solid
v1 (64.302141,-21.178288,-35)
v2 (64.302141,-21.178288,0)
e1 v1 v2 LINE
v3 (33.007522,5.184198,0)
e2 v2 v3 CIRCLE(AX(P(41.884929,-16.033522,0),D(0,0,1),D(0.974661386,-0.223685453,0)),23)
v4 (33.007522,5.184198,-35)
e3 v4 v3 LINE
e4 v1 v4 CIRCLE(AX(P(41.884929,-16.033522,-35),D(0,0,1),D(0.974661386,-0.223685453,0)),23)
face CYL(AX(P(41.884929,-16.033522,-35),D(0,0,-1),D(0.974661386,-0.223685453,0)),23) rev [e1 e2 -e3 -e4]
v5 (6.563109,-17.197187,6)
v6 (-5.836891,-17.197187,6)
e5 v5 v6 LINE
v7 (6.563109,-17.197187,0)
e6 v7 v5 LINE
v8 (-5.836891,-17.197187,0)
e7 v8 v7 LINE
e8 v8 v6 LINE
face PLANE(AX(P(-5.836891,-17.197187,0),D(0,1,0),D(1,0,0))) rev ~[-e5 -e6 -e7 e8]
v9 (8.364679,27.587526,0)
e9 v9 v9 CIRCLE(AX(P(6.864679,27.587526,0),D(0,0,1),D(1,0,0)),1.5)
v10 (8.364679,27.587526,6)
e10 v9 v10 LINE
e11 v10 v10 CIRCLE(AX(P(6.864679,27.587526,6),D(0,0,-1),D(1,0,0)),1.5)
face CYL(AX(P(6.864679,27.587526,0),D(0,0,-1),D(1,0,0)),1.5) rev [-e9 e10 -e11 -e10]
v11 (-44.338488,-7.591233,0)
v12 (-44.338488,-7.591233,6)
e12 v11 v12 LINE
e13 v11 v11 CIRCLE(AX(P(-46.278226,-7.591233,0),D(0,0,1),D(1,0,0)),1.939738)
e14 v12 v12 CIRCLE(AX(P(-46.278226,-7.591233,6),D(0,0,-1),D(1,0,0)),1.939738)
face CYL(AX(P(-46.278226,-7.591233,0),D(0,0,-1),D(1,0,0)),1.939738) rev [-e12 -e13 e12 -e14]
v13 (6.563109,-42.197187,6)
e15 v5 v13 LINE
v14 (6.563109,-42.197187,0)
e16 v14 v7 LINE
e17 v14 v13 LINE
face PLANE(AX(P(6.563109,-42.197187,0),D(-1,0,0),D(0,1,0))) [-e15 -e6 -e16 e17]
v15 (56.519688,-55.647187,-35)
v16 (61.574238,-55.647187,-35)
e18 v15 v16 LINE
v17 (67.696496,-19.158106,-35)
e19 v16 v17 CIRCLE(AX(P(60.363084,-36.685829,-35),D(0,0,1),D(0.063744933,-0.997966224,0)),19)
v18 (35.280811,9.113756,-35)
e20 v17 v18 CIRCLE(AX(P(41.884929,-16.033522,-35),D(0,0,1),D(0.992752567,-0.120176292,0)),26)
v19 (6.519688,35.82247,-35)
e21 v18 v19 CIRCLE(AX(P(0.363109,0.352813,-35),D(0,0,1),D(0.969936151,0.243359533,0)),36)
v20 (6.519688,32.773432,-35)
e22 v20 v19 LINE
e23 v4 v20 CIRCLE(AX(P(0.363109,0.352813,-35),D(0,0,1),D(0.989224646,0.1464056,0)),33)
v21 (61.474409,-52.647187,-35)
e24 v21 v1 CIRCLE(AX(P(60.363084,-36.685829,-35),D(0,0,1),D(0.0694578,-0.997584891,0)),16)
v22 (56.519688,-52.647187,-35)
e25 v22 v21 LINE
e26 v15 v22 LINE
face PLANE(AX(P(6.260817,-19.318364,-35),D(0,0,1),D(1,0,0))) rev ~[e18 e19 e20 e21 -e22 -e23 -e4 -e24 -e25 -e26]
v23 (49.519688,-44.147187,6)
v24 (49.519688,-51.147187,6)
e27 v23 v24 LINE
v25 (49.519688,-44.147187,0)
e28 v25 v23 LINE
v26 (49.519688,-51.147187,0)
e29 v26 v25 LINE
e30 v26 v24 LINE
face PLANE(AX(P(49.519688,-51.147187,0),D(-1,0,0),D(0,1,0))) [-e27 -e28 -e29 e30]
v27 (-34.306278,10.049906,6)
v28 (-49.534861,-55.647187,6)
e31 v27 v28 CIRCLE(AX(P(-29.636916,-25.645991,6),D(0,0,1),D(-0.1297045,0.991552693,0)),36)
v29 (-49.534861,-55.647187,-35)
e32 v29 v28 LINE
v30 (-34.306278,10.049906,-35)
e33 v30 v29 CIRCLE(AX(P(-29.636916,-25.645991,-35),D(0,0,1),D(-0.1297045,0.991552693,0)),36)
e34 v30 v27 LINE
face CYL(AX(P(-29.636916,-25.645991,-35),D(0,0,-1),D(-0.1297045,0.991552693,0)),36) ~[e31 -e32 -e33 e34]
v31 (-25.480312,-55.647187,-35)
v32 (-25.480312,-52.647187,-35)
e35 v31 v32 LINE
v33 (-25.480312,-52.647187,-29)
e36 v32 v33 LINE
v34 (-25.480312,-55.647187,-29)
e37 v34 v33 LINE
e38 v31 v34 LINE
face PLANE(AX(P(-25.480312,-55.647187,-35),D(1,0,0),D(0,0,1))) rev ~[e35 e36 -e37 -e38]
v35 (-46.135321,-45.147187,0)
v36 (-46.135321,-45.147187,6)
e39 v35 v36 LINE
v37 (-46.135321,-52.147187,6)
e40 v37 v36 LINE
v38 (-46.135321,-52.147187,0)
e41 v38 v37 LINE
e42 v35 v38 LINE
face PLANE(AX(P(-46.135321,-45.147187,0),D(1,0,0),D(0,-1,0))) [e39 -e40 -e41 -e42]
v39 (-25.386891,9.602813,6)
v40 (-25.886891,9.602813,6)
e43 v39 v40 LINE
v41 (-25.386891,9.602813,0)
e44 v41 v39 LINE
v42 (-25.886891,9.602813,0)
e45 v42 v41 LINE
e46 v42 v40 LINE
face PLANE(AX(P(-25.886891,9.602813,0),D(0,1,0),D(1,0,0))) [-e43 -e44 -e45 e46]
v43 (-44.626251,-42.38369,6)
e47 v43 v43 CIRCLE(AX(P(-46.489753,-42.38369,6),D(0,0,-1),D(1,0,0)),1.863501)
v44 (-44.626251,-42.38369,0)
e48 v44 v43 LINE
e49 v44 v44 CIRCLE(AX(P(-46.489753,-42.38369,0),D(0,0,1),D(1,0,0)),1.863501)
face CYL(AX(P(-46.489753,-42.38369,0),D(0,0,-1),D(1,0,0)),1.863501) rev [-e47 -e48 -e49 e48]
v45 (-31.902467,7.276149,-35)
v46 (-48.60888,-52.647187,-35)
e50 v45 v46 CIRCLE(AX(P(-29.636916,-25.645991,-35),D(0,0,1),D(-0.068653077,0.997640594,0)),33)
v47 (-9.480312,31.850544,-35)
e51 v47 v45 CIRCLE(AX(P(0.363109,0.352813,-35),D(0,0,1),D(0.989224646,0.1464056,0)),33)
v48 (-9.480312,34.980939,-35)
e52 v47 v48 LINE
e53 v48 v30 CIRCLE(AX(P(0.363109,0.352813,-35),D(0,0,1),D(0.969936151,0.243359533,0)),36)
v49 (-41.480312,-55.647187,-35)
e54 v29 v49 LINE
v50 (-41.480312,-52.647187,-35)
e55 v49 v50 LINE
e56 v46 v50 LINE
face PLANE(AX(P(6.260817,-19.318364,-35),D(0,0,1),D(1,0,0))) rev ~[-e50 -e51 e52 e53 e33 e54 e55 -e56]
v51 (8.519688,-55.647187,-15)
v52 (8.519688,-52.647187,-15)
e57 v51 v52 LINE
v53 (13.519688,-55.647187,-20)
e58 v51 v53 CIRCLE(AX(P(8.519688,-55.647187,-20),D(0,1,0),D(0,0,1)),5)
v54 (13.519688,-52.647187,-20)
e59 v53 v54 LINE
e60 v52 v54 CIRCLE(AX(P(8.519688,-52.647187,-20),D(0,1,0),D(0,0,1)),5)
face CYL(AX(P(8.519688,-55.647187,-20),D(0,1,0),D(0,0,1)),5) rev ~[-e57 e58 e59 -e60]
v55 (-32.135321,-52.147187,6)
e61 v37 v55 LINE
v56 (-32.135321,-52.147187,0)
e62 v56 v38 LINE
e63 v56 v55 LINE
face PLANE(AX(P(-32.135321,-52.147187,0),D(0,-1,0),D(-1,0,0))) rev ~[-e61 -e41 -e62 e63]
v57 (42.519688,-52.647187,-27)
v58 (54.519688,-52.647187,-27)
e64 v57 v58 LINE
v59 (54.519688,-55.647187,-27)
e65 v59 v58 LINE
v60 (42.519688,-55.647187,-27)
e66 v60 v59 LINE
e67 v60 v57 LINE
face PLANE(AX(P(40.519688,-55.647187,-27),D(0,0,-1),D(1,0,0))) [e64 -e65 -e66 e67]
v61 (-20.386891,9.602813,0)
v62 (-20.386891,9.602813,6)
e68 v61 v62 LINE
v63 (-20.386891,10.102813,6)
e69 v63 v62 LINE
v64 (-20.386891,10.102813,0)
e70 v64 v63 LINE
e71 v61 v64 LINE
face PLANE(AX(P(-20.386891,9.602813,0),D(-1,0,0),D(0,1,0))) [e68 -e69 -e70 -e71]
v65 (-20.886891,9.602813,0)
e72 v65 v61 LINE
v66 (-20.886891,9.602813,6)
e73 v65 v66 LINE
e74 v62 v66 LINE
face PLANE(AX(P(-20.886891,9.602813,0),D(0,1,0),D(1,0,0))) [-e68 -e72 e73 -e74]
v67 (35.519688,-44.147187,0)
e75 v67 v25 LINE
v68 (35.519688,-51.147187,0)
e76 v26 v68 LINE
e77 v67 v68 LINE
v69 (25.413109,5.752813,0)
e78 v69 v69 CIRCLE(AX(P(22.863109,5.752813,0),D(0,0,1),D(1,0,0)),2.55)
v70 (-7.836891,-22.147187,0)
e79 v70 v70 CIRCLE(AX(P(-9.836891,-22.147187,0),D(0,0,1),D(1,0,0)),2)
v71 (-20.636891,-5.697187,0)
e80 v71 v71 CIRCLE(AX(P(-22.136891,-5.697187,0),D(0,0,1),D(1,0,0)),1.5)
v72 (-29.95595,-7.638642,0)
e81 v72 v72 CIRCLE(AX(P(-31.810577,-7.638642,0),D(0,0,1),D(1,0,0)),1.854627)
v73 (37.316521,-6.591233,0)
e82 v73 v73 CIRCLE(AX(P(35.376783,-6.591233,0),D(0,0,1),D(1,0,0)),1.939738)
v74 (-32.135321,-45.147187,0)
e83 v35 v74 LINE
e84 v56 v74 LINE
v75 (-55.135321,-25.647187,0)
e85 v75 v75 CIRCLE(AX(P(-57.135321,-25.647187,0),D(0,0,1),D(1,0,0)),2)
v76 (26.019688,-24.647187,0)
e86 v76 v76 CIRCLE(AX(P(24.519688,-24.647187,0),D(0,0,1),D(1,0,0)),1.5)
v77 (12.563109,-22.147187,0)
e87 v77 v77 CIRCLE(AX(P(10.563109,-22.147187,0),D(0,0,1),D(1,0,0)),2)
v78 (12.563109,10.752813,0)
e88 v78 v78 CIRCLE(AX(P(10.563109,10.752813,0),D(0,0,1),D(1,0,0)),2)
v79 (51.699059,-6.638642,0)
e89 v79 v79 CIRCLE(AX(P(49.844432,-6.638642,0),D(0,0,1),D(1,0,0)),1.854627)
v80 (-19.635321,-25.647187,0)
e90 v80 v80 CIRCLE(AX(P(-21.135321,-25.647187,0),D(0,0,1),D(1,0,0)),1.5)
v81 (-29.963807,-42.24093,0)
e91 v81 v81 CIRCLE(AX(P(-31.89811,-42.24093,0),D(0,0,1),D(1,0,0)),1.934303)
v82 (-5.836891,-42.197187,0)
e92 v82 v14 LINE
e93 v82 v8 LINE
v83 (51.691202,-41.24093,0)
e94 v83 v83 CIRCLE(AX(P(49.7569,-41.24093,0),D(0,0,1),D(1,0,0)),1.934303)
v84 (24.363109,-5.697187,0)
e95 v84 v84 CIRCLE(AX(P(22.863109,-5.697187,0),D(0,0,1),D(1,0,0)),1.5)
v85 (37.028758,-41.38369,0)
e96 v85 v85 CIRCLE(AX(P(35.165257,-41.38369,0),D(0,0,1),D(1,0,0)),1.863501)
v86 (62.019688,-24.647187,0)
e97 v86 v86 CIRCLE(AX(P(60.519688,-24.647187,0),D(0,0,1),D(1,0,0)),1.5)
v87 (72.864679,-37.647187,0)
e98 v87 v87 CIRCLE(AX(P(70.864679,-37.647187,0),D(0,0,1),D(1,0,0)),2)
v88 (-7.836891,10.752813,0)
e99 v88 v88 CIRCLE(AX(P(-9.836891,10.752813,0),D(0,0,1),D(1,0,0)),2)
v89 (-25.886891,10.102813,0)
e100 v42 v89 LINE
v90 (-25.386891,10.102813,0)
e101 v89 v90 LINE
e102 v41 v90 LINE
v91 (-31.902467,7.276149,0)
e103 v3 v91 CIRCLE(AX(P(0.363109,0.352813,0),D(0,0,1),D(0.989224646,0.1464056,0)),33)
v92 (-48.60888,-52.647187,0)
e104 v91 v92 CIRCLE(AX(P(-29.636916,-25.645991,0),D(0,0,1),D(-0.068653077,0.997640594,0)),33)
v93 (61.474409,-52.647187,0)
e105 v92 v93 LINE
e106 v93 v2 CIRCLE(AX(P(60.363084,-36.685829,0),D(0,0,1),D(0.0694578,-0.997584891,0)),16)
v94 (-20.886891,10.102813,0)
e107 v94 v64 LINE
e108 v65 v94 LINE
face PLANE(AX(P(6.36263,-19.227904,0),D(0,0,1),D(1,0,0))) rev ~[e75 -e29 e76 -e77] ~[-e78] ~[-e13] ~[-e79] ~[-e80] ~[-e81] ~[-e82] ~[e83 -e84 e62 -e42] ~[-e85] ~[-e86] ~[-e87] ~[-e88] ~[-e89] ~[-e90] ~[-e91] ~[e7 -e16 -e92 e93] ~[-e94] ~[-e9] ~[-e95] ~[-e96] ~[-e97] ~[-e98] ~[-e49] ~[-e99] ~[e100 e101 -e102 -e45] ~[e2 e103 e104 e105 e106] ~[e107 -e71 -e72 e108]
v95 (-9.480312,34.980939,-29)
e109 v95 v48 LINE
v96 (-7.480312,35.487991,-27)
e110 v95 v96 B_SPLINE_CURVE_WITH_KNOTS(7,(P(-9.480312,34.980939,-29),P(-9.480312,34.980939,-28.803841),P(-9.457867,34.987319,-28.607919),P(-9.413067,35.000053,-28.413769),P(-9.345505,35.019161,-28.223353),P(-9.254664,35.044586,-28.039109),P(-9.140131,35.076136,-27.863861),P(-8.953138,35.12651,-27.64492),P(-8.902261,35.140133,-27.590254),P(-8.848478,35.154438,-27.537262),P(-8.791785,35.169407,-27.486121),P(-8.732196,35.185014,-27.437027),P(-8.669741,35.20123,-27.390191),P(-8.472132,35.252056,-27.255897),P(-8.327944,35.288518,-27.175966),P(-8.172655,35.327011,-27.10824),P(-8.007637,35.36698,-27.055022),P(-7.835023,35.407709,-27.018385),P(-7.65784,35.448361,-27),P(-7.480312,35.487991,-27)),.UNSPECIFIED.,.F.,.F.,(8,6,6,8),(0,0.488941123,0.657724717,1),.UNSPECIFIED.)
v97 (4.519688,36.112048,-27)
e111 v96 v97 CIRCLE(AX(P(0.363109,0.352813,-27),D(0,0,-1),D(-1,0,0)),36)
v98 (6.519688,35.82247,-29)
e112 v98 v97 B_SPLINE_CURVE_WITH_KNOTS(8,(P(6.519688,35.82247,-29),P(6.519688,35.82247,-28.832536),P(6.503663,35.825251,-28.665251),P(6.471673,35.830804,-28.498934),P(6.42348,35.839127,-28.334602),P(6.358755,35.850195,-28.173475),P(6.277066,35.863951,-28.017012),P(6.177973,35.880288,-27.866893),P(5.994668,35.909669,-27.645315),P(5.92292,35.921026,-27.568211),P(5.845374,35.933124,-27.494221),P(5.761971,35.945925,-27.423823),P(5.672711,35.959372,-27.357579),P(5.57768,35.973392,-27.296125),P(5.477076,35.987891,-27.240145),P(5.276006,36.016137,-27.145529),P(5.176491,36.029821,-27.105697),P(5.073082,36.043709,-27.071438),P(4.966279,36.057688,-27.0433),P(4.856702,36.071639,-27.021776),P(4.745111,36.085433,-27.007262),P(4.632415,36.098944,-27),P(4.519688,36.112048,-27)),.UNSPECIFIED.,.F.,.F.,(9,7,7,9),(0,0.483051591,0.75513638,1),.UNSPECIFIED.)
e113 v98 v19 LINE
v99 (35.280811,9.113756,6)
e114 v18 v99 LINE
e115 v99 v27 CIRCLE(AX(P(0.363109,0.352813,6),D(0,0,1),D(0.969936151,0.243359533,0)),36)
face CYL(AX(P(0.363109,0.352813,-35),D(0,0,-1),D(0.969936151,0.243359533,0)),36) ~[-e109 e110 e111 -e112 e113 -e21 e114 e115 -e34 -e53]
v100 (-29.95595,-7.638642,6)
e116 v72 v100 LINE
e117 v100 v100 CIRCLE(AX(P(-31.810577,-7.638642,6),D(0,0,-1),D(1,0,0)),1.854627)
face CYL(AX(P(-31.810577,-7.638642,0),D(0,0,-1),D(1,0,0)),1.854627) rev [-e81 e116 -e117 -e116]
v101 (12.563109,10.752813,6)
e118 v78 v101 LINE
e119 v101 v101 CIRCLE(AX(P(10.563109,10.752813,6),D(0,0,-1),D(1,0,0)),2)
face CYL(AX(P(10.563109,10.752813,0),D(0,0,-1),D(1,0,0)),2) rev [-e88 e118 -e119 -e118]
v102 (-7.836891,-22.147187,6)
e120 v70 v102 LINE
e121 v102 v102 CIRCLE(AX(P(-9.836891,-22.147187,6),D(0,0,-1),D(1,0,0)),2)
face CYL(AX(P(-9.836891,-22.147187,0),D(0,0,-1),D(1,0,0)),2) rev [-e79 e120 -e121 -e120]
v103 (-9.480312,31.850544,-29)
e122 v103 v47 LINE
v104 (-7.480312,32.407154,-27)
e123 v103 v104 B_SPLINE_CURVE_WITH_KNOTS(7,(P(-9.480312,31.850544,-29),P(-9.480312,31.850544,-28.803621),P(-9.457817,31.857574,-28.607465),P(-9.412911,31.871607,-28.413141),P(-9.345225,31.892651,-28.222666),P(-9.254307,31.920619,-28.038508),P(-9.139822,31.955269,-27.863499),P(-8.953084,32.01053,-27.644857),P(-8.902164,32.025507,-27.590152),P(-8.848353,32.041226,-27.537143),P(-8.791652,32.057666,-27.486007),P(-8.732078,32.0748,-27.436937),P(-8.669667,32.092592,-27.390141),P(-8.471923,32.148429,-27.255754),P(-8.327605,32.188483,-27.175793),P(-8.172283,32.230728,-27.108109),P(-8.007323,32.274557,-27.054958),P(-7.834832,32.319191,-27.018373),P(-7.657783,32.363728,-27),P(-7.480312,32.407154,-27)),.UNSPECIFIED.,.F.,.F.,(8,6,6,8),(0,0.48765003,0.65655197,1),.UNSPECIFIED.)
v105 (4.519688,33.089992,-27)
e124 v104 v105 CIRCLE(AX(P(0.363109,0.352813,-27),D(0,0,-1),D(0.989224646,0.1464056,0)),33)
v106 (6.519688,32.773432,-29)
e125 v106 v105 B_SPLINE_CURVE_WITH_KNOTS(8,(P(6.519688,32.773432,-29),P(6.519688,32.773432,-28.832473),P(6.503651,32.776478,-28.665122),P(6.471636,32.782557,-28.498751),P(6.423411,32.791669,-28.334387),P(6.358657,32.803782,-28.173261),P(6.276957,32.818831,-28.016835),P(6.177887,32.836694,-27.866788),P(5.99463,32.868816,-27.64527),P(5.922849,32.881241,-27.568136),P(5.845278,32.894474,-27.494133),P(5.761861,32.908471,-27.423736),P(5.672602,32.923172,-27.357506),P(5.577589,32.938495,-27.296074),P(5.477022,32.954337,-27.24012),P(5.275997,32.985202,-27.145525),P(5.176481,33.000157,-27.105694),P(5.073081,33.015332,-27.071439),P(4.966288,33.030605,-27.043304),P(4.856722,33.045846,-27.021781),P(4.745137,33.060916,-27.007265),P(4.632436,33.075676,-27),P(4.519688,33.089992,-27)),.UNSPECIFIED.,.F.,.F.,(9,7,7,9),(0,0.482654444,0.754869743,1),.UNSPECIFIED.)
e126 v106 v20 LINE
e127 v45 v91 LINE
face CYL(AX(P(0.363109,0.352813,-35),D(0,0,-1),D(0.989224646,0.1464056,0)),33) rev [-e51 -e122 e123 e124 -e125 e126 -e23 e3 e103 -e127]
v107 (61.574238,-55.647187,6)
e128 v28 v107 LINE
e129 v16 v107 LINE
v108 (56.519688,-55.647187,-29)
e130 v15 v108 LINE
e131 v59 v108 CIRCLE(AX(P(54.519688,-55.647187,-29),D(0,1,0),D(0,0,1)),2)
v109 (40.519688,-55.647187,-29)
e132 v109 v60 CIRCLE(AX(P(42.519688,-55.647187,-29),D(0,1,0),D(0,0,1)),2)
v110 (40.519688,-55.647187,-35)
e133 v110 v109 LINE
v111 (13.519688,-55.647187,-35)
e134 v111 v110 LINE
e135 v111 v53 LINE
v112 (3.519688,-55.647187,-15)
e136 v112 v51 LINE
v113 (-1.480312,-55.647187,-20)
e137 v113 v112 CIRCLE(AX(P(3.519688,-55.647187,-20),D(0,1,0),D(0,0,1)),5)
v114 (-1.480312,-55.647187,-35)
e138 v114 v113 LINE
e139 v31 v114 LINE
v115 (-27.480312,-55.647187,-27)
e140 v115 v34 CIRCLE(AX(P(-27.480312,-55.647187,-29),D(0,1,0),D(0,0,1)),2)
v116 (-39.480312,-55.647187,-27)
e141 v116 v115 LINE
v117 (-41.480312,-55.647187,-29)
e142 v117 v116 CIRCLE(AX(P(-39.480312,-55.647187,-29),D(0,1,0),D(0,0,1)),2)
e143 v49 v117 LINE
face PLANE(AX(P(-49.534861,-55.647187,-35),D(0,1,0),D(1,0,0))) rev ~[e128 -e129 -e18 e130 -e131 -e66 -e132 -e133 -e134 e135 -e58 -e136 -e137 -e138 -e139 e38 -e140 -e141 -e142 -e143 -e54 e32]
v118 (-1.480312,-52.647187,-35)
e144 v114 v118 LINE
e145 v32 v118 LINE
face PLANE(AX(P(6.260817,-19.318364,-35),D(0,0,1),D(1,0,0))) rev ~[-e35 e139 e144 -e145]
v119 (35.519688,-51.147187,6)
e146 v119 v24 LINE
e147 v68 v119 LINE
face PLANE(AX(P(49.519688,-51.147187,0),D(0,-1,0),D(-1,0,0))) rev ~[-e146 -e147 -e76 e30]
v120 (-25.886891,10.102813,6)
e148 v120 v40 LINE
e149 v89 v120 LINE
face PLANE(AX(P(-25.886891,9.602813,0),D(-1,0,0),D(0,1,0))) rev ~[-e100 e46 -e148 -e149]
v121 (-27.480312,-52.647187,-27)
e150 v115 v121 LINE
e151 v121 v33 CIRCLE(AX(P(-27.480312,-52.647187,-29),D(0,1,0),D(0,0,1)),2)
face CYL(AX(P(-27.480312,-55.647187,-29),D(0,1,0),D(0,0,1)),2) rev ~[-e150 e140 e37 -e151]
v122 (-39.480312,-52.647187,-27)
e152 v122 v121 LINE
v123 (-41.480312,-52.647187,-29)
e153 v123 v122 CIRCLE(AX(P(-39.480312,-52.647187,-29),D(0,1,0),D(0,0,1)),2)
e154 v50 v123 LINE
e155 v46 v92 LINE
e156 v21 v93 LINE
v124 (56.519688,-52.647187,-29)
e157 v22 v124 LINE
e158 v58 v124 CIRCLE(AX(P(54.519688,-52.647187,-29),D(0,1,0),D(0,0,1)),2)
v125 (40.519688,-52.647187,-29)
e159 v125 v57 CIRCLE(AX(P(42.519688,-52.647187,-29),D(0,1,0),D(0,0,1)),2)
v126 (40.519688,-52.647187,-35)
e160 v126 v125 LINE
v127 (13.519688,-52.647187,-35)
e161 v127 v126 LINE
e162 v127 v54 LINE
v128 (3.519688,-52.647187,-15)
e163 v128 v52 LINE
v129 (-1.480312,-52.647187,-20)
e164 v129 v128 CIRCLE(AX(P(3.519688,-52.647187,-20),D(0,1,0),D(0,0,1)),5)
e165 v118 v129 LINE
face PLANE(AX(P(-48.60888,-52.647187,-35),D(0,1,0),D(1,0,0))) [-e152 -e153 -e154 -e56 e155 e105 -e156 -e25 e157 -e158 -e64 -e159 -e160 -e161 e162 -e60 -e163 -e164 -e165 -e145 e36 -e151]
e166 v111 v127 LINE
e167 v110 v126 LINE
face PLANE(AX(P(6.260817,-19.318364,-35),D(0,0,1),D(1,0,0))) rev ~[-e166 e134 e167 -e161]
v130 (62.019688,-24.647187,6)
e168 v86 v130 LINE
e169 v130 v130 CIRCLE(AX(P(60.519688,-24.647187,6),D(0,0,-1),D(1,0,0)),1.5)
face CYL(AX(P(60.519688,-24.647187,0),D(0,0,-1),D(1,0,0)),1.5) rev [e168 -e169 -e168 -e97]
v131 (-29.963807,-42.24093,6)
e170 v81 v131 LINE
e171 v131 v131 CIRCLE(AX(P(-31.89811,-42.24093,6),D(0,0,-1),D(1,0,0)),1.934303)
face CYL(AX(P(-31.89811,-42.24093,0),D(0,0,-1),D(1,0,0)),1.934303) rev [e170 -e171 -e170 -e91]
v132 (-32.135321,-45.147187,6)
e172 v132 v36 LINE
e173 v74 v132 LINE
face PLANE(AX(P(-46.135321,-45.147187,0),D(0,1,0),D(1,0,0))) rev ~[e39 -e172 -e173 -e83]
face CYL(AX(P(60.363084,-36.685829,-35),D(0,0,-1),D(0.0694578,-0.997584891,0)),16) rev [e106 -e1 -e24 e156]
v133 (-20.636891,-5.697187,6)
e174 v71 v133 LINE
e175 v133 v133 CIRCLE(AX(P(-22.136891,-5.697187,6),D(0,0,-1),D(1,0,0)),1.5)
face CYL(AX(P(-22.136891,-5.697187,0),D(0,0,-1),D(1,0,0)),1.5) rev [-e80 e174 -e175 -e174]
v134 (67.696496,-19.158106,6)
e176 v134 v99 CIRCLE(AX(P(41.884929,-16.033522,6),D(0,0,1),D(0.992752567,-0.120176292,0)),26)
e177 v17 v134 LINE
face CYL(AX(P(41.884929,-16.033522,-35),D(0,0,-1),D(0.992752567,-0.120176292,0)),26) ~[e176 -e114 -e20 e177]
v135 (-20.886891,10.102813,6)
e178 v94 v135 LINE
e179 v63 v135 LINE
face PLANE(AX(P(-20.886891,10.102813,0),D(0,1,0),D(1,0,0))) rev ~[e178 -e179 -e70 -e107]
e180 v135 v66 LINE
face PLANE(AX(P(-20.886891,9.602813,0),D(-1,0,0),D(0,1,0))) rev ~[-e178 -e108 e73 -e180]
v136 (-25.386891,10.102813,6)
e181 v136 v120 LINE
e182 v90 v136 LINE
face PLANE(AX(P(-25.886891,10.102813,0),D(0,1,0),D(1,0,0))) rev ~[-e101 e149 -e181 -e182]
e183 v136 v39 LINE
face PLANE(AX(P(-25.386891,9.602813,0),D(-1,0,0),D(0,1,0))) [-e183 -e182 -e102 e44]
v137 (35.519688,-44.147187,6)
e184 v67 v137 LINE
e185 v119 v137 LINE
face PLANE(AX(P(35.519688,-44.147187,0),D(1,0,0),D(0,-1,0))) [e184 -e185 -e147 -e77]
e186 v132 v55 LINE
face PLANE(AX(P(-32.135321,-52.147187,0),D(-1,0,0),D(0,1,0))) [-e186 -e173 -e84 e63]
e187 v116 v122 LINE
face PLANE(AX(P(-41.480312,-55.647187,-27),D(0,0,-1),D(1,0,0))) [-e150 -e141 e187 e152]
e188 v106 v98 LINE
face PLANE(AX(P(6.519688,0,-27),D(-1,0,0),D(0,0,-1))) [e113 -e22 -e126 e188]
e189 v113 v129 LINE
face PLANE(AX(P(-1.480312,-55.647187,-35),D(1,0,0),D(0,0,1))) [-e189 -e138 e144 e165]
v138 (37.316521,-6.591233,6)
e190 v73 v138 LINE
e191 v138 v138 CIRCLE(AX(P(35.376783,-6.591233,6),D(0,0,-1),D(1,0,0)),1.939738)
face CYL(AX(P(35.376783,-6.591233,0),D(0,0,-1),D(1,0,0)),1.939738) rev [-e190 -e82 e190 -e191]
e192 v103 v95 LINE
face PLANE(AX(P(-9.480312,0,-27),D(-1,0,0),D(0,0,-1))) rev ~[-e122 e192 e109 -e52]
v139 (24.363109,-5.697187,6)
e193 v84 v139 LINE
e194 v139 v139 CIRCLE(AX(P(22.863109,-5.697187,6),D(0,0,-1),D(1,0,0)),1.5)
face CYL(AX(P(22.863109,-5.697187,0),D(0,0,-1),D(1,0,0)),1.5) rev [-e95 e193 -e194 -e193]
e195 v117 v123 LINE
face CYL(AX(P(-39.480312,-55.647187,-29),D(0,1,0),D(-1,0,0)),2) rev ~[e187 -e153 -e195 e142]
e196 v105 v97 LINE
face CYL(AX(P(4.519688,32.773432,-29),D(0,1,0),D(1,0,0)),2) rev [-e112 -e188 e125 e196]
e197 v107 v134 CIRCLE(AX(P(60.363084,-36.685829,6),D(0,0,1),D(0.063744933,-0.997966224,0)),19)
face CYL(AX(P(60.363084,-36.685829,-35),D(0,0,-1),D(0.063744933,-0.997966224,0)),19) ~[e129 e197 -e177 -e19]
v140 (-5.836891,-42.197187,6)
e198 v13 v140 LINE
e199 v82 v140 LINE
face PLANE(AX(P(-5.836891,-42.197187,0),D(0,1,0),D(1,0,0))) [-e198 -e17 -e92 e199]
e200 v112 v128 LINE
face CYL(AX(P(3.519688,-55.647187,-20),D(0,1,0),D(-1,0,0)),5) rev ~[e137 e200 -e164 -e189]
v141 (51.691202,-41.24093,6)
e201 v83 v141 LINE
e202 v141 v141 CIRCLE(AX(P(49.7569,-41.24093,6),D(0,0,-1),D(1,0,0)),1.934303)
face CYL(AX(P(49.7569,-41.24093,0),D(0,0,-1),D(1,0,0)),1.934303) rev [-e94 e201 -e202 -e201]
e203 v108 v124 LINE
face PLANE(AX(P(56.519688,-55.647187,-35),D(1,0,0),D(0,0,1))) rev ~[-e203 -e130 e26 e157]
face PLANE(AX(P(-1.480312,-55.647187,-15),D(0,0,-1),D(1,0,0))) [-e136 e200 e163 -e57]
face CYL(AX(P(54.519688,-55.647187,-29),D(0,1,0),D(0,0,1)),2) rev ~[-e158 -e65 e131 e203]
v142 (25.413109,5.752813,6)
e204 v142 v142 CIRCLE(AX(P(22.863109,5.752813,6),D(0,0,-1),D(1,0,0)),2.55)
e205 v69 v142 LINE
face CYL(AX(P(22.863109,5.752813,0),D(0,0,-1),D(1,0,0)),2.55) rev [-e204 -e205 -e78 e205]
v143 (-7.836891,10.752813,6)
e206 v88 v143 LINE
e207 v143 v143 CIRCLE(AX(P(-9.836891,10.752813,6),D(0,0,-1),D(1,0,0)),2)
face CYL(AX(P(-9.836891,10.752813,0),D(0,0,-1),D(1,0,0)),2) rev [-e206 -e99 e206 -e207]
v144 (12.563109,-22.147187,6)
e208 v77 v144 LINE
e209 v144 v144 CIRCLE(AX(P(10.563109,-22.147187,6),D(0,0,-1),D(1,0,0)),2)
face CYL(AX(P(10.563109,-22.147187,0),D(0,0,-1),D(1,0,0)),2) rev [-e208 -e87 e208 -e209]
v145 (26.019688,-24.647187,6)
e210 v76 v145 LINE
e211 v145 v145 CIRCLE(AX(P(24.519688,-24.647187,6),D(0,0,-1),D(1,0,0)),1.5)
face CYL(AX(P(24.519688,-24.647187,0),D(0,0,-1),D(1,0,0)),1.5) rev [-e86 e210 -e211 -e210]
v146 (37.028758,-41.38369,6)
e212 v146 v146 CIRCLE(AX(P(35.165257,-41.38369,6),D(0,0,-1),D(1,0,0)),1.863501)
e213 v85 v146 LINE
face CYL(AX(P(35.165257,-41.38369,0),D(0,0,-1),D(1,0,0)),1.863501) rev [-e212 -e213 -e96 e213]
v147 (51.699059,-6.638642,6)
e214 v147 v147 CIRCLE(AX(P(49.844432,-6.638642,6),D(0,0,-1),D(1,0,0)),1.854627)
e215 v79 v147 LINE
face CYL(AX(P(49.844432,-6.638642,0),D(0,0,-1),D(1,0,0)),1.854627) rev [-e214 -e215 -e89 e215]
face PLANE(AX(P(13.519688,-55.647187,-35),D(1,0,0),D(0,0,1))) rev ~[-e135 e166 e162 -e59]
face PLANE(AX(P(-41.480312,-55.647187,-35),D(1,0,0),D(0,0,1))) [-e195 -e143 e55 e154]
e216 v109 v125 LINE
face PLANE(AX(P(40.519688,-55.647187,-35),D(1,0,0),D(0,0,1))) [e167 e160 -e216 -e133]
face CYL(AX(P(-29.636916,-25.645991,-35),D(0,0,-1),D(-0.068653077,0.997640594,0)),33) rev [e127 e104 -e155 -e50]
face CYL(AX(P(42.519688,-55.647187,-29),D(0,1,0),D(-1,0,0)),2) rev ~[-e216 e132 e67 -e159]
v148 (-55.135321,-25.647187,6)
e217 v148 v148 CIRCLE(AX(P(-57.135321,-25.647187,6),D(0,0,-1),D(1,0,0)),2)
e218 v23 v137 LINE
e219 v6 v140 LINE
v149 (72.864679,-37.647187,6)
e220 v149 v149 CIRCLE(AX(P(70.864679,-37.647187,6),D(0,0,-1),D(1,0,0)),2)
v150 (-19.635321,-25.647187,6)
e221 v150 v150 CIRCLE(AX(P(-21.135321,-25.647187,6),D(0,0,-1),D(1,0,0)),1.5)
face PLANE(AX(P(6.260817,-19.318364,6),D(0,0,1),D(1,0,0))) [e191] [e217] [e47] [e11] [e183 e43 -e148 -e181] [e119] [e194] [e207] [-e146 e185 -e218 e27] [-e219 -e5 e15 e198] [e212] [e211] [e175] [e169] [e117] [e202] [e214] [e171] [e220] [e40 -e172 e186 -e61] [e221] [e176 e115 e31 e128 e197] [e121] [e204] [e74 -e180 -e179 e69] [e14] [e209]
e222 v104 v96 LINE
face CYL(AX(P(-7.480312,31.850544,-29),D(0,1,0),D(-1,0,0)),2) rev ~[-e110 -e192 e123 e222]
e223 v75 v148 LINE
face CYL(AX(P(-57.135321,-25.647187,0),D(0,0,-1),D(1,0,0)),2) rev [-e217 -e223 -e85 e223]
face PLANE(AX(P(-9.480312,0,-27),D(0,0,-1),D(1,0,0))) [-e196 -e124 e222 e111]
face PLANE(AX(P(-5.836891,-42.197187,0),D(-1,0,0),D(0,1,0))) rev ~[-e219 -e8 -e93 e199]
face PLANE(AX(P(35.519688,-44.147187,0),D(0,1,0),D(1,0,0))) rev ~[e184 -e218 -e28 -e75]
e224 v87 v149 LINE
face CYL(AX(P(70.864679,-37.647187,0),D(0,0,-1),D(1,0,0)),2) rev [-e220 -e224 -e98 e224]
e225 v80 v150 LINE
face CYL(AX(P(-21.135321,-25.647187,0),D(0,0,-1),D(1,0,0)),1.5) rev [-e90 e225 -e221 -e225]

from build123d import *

# Parameters (mm, degrees)
BOSS_EXTRU_1_DEPTH           = 6
BOSS_EXTRU_2_DEPTH           = 6
BOSS_EXTRU_2_DEPTH_BACK      = 35
ENL_V_MAT_EXTRU_2_REACH      = 128.442
ESQUISSE5_W                  = 15
ESQUISSE5_H                  = 20
CONG_1_R                     = 5
ENL_V_MAT_EXTRU_3_REACH      = 128.442
ESQUISSE6_W                  = 16
ESQUISSE6_H                  = 8
ENL_V_MAT_EXTRU_4_REACH      = 105.054
ENL_V_MAT_EXTRU_4_END_RADIUS = 36
ESQUISSE7_W                  = 16
ESQUISSE7_H                  = 8
CONG_2_R                     = 2
ESQUISSE10_R                 = 2
ESQUISSE10_R_2               = 1.5
ESQUISSE10_R_3               = 1.863501178
ESQUISSE10_R_4               = 1.93430269
ESQUISSE10_R_5               = 1.939737899
ESQUISSE10_R_6               = 1.854627201
ESQUISSE10_R_7               = 2.55
ESQUISSE10_W                 = 12.4
ESQUISSE10_H                 = 25
ESQUISSE10_W_2               = 0.5
ESQUISSE10_H_2               = 0.5
ENL_V_MAT_EXTRU_6_DEPTH      = 104.053910907


with BuildPart() as part:
    # Esquisse2 → Boss.-Extru.1 (new body)
    with BuildSketch(Plane.XY):
        with BuildLine():
            Line((-48.608879521, -52.647186827), (61.474409074, -52.647186827))
            ThreePointArc((61.474409074, -52.647186827), (76.298877159, -38.117787006), (64.302141331, -21.178287526))
            ThreePointArc((64.302141331, -21.178287526), (56.703051449, 1.556908822), (33.007522473, 5.184197975))
            ThreePointArc((33.007522473, 5.184197975), (1.426097383, 33.335688366), (-31.902467285, 7.276148862))
            ThreePointArc((-31.902467285, 7.276148862), (-61.424642208, -16.783685992), (-48.608879521, -52.647186827))
        make_face()
    extrude(amount=BOSS_EXTRU_1_DEPTH)

    # Esquisse3 → Boss.-Extru.2 (add, two sides: drawn at the far end of the back side and taken through both)
    with BuildSketch(Plane.XY.offset(-BOSS_EXTRU_2_DEPTH_BACK)):
        with BuildLine():
            Line((-49.534861191, -55.647186827), (61.574237986, -55.647186827))
            ThreePointArc((61.574237986, -55.647186827), (79.101164774, -39.829765432), (67.696496182, -19.158105688))
            ThreePointArc((67.696496182, -19.158105688), (58.974577176, 3.560965394), (35.280810603, 9.113756361))
            ThreePointArc((35.280810603, 9.113756361), (0.847370614, 36.349555954), (-34.306277728, 10.0499062))
            ThreePointArc((-34.306277728, 10.0499062), (-64.707061967, -17.516732287), (-49.534861191, -55.647186827))
        make_face()
        with BuildLine():
            Line((-48.608879521, -52.647186827), (61.474409074, -52.647186827))
            ThreePointArc((61.474409074, -52.647186827), (76.298877159, -38.117787006), (64.302141331, -21.178287526))
            ThreePointArc((64.302141331, -21.178287526), (56.703051449, 1.556908822), (33.007522473, 5.184197975))
            ThreePointArc((33.007522473, 5.184197975), (1.426097383, 33.335688366), (-31.902467285, 7.276148862))
            ThreePointArc((-31.902467285, 7.276148862), (-61.424642208, -16.783685992), (-48.608879521, -52.647186827))
        make_face(mode=Mode.SUBTRACT)
    extrude(amount=BOSS_EXTRU_2_DEPTH + BOSS_EXTRU_2_DEPTH_BACK)

    # Esquisse5 → Enlèv. mat.-Extru.2 (cut, up to next)
    with BuildSketch(Plane.XZ.offset(55.647186827), mode=Mode.PRIVATE) as enl_v_mat_extru_2_sk1:
        with Locations((6.019688397, -25)):
            Rectangle(ESQUISSE5_W, ESQUISSE5_H)
    enl_v_mat_extru_2_tool1 = extrude(enl_v_mat_extru_2_sk1.sketch, amount=-ENL_V_MAT_EXTRU_2_REACH, mode=Mode.PRIVATE) & part.part
    add(enl_v_mat_extru_2_tool1.solids().sort_by_distance((6.019688, -55.647187, -25))[0], mode=Mode.SUBTRACT)

    # Congé1
    cong_1_edges = [part.edges().sort_by_distance(p)[0] for p in [
        (13.519688397, -54.147186827, -15),
        (-1.480311603, -54.147186827, -15),
    ]]
    fillet(cong_1_edges, radius=CONG_1_R)

    # Esquisse6 → Enlèv. mat.-Extru.3 (cut, up to next)
    with BuildSketch(Plane.XZ.offset(55.647186827), mode=Mode.PRIVATE) as enl_v_mat_extru_3_sk1:
        with Locations((-33.480311603, -31)):
            Rectangle(ESQUISSE6_W, ESQUISSE6_H)
    enl_v_mat_extru_3_tool1 = extrude(enl_v_mat_extru_3_sk1.sketch, amount=-ENL_V_MAT_EXTRU_3_REACH, mode=Mode.PRIVATE) & part.part
    # Esquisse6 → Enlèv. mat.-Extru.3 (cut, up to next)
    with BuildSketch(Plane.XZ.offset(55.647186827), mode=Mode.PRIVATE) as enl_v_mat_extru_3_sk2:
        with Locations((48.519688397, -31)):
            Rectangle(ESQUISSE6_W, ESQUISSE6_H)
    enl_v_mat_extru_3_tool2 = extrude(enl_v_mat_extru_3_sk2.sketch, amount=-ENL_V_MAT_EXTRU_3_REACH, mode=Mode.PRIVATE) & part.part
    add(enl_v_mat_extru_3_tool1.solids().sort_by_distance((-33.480312, -55.647187, -31))[0], mode=Mode.SUBTRACT)
    add(enl_v_mat_extru_3_tool2.solids().sort_by_distance((48.519688, -55.647187, -31))[0], mode=Mode.SUBTRACT)

    # Enlèv. mat.-Extru.4: up to this cylinder (the profile starts inside it)
    enl_v_mat_extru_4_end = Plane(origin=(0.363109154, 0.352813173, -31), z_dir=(0, 0, -1)) * Cylinder(ENL_V_MAT_EXTRU_4_END_RADIUS, 283.108, mode=Mode.PRIVATE)
    # Esquisse7 → Enlèv. mat.-Extru.4 (cut, up to the surface)
    with BuildSketch(Plane(origin=(0, 0, 0), x_dir=(1, 0, 0), z_dir=(0, 1, 0)), mode=Mode.PRIVATE) as enl_v_mat_extru_4_sk1:
        with Locations((-1.480311603, 31)):
            Rectangle(ESQUISSE7_W, ESQUISSE7_H)
    enl_v_mat_extru_4_tool1 = extrude(enl_v_mat_extru_4_sk1.sketch, amount=ENL_V_MAT_EXTRU_4_REACH, mode=Mode.PRIVATE) & enl_v_mat_extru_4_end
    add(enl_v_mat_extru_4_tool1.solids().sort_by_distance((-1.480312, 0, -31))[0], mode=Mode.SUBTRACT)

    # Congé2
    cong_2_edges = [part.edges().sort_by_distance(p)[0] for p in [
        (-9.480311603, 33.415741443, -27),
        (6.519688397, 34.297950888, -27),
        (40.519688397, -54.147186827, -27),
        (56.519688397, -54.147186827, -27),
        (-41.480311603, -54.147186827, -27),
        (-25.480311603, -54.147186827, -27),
    ]]
    fillet(cong_2_edges, radius=CONG_2_R)

    # Esquisse10 → Enlèv. mat.-Extru.6 (cut, through all)
    with BuildSketch(Plane.XY):
        with Locations((-57.135320842, -25.647186827)):
            Circle(ESQUISSE10_R)
        with Locations((10.563109154, -22.147186827)):
            Circle(ESQUISSE10_R)
        with Locations((10.563109154, 10.752813173)):
            Circle(ESQUISSE10_R)
        with Locations((-9.836890846, 10.752813173)):
            Circle(ESQUISSE10_R)
        with Locations((-22.136890846, -5.697186827)):
            Circle(ESQUISSE10_R_2)
        with Locations((22.863109154, -5.697186827)):
            Circle(ESQUISSE10_R_2)
        with Locations((-9.836890846, -22.147186827)):
            Circle(ESQUISSE10_R)
        with Locations((70.864679158, -37.647186827)):
            Circle(ESQUISSE10_R)
        with Locations((6.864679158, 27.587526086)):
            Circle(ESQUISSE10_R_2)
        with Locations((-46.489752539, -42.38368966)):
            Circle(ESQUISSE10_R_3)
        with Locations((-31.89810954, -42.24093029)):
            Circle(ESQUISSE10_R_4)
        with Locations((-46.278226209, -7.591233185)):
            Circle(ESQUISSE10_R_5)
        with Locations((-31.810577097, -7.638641543)):
            Circle(ESQUISSE10_R_6)
        with Locations((-21.135320842, -25.647186827)):
            Circle(ESQUISSE10_R_2)
        with Locations((60.519688397, -24.647186827)):
            Circle(ESQUISSE10_R_2)
        with Locations((24.519688397, -24.647186827)):
            Circle(ESQUISSE10_R_2)
        with Locations((35.37678303, -6.591233185)):
            Circle(ESQUISSE10_R_5)
        with Locations((49.844432143, -6.638641543)):
            Circle(ESQUISSE10_R_6)
        with Locations((49.7568997, -41.24093029)):
            Circle(ESQUISSE10_R_4)
        with Locations((35.165256701, -41.38368966)):
            Circle(ESQUISSE10_R_3)
        with Locations((22.863109154, 5.752813173)):
            Circle(ESQUISSE10_R_7)
        with Locations((0.363109154, -29.697186827)):
            Rectangle(ESQUISSE10_W, ESQUISSE10_H)
        Polygon((-46.135320842, -49.647186827), (-46.135320842, -45.147186827), (-32.135320842, -45.147186827), (-32.135320842, -49.647186827), (-32.135320842, -52.147186827), (-46.135320842, -52.147186827), align=None)
        Polygon((35.519688397, -48.647186827), (35.519688397, -44.147186827), (49.519688397, -44.147186827), (49.519688397, -48.647186827), (49.519688397, -51.147186827), (35.519688397, -51.147186827), align=None)
        with Locations((-20.636890846, 9.852813173)):
            Rectangle(ESQUISSE10_W_2, ESQUISSE10_H_2)
        with Locations((-25.636890846, 9.852813173)):
            Rectangle(ESQUISSE10_W_2, ESQUISSE10_H_2)
    extrude(amount=ENL_V_MAT_EXTRU_6_DEPTH, mode=Mode.SUBTRACT)


solid = part.part
